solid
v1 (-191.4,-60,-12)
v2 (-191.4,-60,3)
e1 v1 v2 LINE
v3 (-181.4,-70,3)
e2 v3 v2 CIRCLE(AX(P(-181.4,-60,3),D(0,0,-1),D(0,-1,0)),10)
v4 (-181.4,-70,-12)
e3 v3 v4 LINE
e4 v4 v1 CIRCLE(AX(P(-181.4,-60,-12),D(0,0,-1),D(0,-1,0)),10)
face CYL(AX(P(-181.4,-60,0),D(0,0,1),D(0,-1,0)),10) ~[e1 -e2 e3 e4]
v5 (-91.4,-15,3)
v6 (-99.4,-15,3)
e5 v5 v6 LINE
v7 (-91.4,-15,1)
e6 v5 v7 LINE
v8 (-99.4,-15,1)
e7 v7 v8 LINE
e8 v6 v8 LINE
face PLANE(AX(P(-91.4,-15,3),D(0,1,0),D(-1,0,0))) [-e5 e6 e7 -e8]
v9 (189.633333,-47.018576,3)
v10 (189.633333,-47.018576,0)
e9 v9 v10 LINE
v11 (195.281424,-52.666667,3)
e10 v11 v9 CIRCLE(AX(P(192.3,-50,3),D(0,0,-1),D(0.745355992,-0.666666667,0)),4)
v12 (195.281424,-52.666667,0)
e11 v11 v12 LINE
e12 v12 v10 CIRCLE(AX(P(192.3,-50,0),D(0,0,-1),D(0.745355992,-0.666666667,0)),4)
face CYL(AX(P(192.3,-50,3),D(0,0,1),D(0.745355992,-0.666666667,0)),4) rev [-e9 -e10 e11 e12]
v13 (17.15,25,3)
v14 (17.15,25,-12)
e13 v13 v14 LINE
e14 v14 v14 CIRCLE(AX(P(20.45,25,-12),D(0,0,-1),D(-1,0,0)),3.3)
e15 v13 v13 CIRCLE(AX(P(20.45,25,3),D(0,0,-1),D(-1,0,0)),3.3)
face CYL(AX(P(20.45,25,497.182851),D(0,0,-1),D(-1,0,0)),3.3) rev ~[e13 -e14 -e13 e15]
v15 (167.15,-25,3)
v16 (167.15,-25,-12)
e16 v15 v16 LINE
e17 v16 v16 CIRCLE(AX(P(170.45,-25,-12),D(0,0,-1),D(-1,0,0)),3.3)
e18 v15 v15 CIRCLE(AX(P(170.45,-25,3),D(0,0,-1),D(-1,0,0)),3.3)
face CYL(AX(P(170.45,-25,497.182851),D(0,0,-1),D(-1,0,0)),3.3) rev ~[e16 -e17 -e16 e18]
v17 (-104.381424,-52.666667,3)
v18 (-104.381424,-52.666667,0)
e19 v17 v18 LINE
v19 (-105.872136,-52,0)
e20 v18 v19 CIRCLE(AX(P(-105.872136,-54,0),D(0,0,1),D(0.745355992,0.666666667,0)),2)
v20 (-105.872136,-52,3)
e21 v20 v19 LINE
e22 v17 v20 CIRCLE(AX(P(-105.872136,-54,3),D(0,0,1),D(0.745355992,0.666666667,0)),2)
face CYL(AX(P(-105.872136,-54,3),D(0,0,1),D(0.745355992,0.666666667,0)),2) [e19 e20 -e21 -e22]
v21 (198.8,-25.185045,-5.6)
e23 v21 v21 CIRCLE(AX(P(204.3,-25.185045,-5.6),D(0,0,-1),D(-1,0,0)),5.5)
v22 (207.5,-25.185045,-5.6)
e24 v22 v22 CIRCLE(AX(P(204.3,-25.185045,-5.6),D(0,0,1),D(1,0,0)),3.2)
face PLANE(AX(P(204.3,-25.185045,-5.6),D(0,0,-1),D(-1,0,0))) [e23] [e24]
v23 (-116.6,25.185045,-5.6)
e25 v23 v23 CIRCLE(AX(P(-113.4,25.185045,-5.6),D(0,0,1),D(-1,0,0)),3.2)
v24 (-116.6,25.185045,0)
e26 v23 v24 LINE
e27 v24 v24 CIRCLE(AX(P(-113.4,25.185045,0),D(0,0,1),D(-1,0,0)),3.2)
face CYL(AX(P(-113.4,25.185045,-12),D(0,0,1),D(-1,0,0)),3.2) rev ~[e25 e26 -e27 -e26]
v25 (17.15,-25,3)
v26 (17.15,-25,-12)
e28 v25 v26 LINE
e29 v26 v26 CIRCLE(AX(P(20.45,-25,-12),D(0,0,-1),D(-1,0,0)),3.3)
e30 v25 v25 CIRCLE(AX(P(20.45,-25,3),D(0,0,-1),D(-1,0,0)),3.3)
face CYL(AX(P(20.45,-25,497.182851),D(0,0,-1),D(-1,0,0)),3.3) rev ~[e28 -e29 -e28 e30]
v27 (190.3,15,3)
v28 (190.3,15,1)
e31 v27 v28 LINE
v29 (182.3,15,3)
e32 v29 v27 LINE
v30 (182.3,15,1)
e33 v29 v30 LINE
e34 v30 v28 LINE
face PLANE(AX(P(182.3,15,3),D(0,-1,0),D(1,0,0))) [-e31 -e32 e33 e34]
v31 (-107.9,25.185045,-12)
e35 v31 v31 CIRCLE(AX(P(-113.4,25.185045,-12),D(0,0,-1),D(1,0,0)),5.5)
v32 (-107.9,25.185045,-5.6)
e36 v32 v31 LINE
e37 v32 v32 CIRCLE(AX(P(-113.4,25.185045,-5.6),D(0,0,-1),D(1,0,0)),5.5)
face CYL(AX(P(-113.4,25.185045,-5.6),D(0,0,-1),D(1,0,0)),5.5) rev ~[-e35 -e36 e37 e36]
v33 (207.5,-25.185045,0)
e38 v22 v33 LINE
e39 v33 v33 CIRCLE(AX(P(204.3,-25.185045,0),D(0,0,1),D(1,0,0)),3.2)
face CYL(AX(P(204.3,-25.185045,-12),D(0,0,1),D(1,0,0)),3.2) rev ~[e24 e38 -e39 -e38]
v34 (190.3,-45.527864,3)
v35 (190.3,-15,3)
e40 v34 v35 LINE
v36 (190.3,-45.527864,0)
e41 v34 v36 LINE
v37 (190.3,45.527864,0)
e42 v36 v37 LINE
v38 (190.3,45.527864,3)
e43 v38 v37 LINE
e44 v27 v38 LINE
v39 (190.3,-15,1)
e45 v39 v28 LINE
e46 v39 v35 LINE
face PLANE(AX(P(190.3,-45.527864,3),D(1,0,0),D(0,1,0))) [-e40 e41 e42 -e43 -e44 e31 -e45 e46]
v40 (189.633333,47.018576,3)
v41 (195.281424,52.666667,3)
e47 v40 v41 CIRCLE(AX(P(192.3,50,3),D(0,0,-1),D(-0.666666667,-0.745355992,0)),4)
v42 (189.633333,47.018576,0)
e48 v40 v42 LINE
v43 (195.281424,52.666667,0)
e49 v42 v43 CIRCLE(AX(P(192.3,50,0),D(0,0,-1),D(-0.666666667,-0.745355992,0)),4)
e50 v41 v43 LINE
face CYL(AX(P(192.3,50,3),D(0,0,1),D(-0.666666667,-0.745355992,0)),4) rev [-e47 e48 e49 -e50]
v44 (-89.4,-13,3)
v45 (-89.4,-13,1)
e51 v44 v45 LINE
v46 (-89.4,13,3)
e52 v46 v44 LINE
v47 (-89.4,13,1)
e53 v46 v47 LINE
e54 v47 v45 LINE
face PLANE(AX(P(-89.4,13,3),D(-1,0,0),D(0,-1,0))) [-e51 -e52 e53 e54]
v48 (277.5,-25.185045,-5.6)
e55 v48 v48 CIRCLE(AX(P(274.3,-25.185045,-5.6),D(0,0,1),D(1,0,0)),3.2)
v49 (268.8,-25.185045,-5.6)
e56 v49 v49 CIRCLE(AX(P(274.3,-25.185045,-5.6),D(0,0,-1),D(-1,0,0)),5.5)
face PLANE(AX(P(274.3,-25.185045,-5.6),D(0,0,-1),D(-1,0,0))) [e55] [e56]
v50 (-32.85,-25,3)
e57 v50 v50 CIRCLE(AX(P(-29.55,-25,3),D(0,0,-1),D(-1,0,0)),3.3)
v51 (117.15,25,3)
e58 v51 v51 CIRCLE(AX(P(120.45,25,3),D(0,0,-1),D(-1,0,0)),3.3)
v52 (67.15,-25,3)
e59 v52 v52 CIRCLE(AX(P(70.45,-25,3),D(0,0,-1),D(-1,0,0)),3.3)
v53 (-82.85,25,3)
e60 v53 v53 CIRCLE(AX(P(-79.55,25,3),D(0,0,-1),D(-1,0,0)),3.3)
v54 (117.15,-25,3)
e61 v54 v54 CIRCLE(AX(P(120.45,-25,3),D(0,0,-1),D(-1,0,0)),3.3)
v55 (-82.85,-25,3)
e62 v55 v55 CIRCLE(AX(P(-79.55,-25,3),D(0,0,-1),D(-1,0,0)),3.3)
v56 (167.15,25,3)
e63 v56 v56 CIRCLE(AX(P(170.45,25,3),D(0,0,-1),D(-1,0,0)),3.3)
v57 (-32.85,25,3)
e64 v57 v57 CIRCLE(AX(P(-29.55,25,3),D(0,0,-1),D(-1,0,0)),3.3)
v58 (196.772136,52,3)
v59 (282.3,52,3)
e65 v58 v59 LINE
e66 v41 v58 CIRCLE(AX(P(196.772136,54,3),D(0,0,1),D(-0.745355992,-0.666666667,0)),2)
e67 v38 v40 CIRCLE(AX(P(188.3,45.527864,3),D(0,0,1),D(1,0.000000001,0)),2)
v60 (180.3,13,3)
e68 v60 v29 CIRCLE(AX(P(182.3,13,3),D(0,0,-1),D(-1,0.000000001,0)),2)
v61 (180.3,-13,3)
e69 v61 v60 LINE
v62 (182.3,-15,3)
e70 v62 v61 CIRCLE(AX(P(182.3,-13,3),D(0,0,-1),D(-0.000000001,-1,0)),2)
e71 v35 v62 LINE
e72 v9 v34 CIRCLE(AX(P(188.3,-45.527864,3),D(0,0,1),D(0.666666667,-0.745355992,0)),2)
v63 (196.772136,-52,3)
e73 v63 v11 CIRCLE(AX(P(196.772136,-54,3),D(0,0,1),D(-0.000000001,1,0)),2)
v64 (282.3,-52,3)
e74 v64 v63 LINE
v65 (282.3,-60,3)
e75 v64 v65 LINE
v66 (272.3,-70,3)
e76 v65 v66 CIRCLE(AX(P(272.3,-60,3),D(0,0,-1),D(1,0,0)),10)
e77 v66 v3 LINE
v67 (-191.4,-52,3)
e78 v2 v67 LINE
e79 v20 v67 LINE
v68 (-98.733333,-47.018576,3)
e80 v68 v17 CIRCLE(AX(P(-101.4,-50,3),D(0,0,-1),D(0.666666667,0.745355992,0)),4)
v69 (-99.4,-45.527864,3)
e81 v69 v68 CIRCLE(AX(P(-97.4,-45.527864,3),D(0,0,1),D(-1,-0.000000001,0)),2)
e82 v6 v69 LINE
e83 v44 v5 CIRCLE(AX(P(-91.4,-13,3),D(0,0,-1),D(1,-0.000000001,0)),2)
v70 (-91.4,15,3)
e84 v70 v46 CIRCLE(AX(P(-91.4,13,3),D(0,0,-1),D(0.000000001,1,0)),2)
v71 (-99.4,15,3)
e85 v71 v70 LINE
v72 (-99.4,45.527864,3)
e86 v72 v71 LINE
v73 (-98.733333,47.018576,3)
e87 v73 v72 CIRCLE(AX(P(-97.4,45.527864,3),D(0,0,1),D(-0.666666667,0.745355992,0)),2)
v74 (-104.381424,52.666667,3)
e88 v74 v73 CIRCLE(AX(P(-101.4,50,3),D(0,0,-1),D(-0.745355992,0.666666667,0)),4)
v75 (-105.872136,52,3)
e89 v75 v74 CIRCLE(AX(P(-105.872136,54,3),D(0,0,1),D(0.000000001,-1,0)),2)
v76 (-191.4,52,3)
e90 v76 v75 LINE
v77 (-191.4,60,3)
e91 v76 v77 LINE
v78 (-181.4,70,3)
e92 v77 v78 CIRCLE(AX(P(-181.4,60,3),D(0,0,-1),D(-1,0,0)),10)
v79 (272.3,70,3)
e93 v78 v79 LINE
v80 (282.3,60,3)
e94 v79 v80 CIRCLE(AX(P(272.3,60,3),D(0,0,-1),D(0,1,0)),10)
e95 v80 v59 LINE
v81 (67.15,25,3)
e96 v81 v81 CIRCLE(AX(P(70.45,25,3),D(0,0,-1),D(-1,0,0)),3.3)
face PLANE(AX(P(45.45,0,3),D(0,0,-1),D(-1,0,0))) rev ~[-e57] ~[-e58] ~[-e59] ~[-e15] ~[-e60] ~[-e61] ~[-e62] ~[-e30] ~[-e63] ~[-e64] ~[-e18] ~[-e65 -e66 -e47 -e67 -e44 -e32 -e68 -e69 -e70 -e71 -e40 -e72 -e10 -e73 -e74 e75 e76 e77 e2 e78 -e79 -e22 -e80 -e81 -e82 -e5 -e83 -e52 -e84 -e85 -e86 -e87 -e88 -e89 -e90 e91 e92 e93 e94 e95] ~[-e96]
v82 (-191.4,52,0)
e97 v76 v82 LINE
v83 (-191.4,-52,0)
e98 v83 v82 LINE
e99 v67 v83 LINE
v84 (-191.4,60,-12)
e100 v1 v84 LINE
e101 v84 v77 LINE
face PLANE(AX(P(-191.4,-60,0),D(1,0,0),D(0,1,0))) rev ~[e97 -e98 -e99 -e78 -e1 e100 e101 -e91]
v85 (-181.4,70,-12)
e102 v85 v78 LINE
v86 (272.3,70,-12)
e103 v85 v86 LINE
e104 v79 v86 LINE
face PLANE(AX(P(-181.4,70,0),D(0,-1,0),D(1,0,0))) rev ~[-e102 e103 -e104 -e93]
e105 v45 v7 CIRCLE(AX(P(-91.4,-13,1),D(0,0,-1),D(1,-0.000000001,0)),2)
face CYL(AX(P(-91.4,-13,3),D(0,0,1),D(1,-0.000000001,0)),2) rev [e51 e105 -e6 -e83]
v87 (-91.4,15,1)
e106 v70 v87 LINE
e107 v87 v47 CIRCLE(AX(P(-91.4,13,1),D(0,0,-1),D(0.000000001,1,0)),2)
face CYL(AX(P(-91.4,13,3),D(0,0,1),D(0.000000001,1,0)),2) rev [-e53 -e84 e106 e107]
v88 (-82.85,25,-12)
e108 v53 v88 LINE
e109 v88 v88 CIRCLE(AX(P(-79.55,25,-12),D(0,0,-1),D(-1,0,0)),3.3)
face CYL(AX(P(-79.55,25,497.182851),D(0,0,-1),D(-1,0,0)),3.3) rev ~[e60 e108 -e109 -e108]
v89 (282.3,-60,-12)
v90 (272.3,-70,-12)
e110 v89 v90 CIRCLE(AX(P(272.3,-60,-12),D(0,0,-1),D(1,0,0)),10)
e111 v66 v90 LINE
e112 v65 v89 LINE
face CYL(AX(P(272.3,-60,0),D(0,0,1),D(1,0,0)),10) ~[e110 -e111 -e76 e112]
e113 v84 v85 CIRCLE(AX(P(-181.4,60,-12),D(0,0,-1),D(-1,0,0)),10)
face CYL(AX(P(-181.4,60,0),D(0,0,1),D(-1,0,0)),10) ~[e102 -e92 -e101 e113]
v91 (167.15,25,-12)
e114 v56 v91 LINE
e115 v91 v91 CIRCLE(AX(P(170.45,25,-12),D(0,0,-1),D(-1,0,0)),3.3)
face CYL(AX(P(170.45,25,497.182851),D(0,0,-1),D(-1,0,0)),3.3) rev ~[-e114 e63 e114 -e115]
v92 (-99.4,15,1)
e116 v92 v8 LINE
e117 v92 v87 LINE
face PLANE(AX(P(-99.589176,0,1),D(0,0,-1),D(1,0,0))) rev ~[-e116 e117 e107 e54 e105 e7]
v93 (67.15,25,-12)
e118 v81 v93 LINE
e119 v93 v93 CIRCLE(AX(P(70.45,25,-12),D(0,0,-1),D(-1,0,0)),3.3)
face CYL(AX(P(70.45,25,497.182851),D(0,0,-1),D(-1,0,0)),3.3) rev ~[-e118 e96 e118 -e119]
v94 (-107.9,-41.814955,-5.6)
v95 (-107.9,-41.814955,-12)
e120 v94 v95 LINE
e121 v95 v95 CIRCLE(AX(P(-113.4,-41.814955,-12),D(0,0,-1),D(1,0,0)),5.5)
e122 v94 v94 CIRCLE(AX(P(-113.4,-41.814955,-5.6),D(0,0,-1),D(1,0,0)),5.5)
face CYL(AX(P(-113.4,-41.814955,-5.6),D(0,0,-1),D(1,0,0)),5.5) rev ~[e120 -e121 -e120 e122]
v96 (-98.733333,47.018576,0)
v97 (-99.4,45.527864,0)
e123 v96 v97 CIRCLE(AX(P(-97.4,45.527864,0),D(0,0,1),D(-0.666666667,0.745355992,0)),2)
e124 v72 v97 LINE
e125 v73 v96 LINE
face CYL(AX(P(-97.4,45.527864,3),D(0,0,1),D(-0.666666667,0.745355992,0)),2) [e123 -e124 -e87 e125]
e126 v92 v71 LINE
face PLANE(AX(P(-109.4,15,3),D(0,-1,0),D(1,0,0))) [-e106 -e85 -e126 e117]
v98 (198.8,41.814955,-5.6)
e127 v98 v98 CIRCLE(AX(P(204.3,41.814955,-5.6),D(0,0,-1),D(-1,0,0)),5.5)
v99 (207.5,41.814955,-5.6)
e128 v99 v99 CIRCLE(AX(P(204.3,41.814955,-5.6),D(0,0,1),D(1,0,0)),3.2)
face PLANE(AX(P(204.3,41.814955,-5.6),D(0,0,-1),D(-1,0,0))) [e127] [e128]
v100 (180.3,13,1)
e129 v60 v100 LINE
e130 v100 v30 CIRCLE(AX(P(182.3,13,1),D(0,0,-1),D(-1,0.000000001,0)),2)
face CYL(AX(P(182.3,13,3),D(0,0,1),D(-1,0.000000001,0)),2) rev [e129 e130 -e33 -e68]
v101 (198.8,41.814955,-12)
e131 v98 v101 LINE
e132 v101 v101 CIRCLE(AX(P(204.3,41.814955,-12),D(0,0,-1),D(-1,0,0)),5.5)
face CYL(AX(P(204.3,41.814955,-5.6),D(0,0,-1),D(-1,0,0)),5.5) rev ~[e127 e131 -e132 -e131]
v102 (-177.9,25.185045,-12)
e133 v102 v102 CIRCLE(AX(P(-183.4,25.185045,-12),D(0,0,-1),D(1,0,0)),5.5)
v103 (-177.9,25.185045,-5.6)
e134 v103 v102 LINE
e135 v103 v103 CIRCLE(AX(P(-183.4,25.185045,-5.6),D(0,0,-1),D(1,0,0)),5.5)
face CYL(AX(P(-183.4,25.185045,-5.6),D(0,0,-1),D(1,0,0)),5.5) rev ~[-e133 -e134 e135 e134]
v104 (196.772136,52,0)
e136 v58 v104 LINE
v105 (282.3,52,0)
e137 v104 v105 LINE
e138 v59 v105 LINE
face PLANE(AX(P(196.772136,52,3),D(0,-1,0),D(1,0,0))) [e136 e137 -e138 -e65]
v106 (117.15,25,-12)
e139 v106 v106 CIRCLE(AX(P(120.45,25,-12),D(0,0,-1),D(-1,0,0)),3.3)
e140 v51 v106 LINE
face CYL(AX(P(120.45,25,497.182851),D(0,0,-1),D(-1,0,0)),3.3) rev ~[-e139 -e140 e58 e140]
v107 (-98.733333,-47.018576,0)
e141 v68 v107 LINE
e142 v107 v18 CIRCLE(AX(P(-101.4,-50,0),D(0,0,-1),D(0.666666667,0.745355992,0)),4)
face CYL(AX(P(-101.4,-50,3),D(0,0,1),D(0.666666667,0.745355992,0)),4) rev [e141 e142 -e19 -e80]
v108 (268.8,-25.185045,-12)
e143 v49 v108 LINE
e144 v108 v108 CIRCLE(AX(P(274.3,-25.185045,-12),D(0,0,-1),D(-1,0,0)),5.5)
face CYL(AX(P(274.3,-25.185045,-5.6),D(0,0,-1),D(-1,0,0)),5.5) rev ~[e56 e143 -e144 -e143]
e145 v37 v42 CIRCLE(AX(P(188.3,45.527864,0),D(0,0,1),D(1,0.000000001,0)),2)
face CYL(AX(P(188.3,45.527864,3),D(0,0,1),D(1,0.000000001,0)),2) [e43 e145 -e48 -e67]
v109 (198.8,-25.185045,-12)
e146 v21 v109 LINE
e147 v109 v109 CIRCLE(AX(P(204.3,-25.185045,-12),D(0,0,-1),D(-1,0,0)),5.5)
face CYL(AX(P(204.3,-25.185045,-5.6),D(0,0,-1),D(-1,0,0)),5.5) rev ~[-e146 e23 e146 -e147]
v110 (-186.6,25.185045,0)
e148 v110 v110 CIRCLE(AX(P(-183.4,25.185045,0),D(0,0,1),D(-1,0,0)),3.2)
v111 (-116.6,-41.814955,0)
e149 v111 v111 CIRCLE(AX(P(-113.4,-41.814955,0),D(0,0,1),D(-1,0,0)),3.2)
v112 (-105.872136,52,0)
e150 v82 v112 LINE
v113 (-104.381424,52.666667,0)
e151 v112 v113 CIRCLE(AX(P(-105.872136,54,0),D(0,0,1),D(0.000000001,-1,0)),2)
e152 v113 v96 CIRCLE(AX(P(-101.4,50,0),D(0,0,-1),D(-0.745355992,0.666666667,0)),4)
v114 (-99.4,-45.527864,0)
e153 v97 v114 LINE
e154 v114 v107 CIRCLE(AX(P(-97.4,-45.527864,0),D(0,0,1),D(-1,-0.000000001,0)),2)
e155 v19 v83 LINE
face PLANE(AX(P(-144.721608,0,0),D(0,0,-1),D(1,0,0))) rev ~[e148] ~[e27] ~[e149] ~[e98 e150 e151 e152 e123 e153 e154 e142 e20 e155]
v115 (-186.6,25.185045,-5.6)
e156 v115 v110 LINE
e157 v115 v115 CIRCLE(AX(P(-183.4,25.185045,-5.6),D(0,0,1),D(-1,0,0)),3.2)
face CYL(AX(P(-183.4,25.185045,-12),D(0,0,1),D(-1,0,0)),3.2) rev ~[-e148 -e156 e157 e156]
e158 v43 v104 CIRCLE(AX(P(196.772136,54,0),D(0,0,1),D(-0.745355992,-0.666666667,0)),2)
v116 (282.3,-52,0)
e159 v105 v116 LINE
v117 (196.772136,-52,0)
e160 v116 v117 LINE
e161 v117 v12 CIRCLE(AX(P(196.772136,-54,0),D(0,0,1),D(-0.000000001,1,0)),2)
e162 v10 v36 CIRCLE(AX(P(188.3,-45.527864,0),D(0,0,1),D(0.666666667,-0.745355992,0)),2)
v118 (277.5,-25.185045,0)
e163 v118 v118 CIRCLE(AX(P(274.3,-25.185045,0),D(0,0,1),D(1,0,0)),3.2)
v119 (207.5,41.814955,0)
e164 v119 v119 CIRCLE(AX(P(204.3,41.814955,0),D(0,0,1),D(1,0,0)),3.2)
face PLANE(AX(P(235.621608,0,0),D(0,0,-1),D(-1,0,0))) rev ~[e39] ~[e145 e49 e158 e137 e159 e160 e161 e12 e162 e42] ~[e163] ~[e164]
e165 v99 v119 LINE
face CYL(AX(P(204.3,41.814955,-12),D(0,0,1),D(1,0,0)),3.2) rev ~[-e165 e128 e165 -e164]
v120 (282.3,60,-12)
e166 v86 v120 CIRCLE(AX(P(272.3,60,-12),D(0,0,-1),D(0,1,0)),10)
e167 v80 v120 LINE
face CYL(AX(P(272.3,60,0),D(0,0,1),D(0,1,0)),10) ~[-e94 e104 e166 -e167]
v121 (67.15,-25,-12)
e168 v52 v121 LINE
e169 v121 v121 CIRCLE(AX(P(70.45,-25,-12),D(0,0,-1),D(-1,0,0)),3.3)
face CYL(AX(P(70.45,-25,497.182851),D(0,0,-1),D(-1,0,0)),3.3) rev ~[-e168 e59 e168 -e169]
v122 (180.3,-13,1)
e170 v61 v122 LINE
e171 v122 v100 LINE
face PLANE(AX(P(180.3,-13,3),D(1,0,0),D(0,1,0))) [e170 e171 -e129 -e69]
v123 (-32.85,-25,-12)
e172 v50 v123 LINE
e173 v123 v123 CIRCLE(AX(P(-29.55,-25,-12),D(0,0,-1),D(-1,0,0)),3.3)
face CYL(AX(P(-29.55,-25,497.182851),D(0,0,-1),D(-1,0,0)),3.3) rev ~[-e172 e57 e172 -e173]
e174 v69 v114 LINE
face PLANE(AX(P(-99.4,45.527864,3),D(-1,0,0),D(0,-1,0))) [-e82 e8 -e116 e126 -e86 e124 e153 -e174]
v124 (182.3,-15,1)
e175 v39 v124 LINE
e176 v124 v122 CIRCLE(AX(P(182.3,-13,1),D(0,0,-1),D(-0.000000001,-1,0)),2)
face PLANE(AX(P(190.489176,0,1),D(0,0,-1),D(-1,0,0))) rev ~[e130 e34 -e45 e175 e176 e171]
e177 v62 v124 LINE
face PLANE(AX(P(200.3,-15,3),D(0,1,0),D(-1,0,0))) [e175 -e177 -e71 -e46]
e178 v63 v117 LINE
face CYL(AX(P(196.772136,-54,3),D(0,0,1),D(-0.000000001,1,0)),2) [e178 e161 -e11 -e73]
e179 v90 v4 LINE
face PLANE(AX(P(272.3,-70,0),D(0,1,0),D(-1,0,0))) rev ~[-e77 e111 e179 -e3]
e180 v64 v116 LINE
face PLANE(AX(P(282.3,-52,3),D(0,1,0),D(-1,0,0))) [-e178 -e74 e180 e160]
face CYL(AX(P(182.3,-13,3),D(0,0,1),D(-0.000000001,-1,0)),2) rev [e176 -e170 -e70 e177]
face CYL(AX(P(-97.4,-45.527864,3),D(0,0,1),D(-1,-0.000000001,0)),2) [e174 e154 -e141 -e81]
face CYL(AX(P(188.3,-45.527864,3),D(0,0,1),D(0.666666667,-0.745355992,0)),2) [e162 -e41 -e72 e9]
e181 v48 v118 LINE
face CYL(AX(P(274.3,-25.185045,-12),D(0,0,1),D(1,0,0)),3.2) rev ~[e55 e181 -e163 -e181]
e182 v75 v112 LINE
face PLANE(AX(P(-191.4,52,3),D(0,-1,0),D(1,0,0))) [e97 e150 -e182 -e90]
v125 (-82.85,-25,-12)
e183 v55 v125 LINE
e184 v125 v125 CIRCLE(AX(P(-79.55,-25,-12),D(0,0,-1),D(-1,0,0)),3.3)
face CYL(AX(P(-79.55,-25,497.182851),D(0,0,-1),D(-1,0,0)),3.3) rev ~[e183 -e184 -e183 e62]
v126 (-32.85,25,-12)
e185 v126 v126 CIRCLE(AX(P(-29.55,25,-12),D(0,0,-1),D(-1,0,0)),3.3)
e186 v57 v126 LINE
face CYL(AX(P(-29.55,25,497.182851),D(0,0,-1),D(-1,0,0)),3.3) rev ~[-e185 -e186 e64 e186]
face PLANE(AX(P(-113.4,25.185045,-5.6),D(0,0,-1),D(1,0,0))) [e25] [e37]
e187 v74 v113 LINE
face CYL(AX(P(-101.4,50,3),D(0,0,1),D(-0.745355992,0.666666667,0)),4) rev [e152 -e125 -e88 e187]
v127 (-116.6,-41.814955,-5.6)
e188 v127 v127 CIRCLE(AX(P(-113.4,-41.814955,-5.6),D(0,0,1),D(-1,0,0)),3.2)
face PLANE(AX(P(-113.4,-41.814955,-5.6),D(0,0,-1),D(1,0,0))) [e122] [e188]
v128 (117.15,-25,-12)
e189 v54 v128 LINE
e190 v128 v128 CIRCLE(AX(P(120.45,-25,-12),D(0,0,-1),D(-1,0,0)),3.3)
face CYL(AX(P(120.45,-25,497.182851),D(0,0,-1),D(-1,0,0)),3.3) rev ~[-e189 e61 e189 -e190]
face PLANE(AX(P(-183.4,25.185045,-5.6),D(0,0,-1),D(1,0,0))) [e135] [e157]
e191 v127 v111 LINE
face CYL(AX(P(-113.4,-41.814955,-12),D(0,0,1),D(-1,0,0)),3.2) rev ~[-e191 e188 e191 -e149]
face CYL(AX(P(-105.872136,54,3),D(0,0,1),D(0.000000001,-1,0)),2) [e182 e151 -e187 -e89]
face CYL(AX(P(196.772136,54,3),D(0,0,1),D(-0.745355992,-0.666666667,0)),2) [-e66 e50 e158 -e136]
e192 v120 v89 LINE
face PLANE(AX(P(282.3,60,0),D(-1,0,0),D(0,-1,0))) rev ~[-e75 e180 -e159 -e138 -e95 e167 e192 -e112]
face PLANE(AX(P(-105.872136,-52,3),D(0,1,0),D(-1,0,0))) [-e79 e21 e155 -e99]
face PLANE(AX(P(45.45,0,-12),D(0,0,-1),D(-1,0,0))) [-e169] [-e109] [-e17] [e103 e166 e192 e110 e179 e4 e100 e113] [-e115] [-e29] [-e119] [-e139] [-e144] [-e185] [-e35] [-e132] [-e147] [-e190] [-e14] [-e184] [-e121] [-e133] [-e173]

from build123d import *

# Parameters (mm, degrees)
ESTRUSIONE_ESTRUSIONE1_DEPTH                         = 3
ESTRUSIONE_ESTRUSIONE1_DEPTH_BACK                    = 12
TAGLIO_ESTRUSIONE1_DEPTH                             = 3
FORO_LAMATO_PER_VITE_M6_A_TESTA_CILINDRI_D           = 6.4
FORO_LAMATO_PER_VITE_M6_A_TESTA_CILINDRI_CBORE_D     = 11
FORO_LAMATO_PER_VITE_M6_A_TESTA_CILINDRI_CBORE_DEPTH = 6.4
FORO_PER_VITE_M6_1_D                                 = 6.6
TAGLIO_ESTRUSIONE2_DEPTH                             = 2
RIPETIZIONECIRCOLARE1_COUNT                          = 2


with BuildPart() as part:
    # Schizzo1 → Estrusione-Estrusione1 (new body, two sides)
    with BuildSketch(Plane.XY) as estrusione_estrusione1_sk:
        with BuildLine():
            Line((-181.4, 70), (272.3, 70))
            ThreePointArc((272.3, 70), (279.371067812, 67.071067812), (282.3, 60))
            Line((282.3, 60), (282.3, -60))
            ThreePointArc((282.3, -60), (279.371067812, -67.071067812), (272.3, -70))
            Line((272.3, -70), (-181.4, -70))
            ThreePointArc((-181.4, -70), (-188.471067812, -67.071067812), (-191.4, -60))
            Line((-191.4, -60), (-191.4, 60))
            ThreePointArc((-191.4, 60), (-188.471067812, 67.071067812), (-181.4, 70))
        make_face()
    extrude(amount=ESTRUSIONE_ESTRUSIONE1_DEPTH)
    extrude(estrusione_estrusione1_sk.sketch, amount=-ESTRUSIONE_ESTRUSIONE1_DEPTH_BACK)

    # Schizzo2 → Taglio-Estrusione1 (cut)
    with BuildSketch(Plane.XY.offset(3)):
        with BuildLine():
            Line((196.772135955, 52), (282.3, 52))
            Line((282.3, 52), (282.3, -52))
            Line((282.3, -52), (196.772135955, -52))
            ThreePointArc((196.772135955, -52), (195.955639374, -52.174258142), (195.28142397, -52.666666667))
            ThreePointArc((195.28142397, -52.666666667), (189.471572875, -52.828427125), (189.633333333, -47.01857603))
            ThreePointArc((189.633333333, -47.01857603), (190.125741858, -46.344360626), (190.3, -45.527864045))
            Line((190.3, -45.527864045), (190.3, 45.527864045))
            ThreePointArc((190.3, 45.527864045), (190.125741858, 46.344360626), (189.633333333, 47.01857603))
            ThreePointArc((189.633333333, 47.01857603), (189.471572875, 52.828427125), (195.28142397, 52.666666667))
            ThreePointArc((195.28142397, 52.666666667), (195.955639374, 52.174258142), (196.772135955, 52))
        make_face()
    taglio_estrusione1 = extrude(amount=-TAGLIO_ESTRUSIONE1_DEPTH, mode=Mode.SUBTRACT)

    # Foro lamato per Vite M6 a testa cilindri (through all)
    with Locations(Plane(origin=(0, 0, -12), x_dir=(-1, 0, 0), z_dir=(0, 0, -1))):
        with Locations((-204.3, 41.814954576), (-204.3, -25.185045424), (-274.3, -25.185045424)):
            foro_lamato_per_vite_m6_a_testa_cilindri = CounterBoreHole(FORO_LAMATO_PER_VITE_M6_A_TESTA_CILINDRI_D / 2, FORO_LAMATO_PER_VITE_M6_A_TESTA_CILINDRI_CBORE_D / 2, FORO_LAMATO_PER_VITE_M6_A_TESTA_CILINDRI_CBORE_DEPTH)

    # Foro per Vite M6-1 (through all)
    with Locations(Plane.XY.offset(3)):
        with Locations((170.45, -25), (-79.55, 25), (170.45, 25), (-79.55, -25), (120.45, -25), (120.45, 25), (70.45, 25), (70.45, -25), (20.45, 25), (20.45, -25), (-29.55, -25), (-29.55, 25)):
            Hole(FORO_PER_VITE_M6_1_D / 2)

    # Schizzo7 → Taglio-Estrusione2 (cut)
    with BuildSketch(Plane.XY.offset(3)):
        with BuildLine():
            Line((182.3, 15), (200.3, 15))
            Line((200.3, 15), (200.3, -15))
            Line((200.3, -15), (182.3, -15))
            ThreePointArc((182.3, -15), (180.885786438, -14.414213562), (180.3, -13))
            Line((180.3, -13), (180.3, 13))
            ThreePointArc((180.3, 13), (180.885786438, 14.414213562), (182.3, 15))
        make_face()
    taglio_estrusione2 = extrude(amount=-TAGLIO_ESTRUSIONE2_DEPTH, mode=Mode.SUBTRACT)

    # RipetizioneCircolare1: Taglio-Estrusione1, Foro lamato per Vite M6 a testa cilindri, Taglio-Estrusione2 ×2 about axis
    ripetizionecircolare1_axis = Axis((45.45, 0, 0), (0, 0, 1))
    add([taglio_estrusione1.rotate(ripetizionecircolare1_axis, i * 360 / RIPETIZIONECIRCOLARE1_COUNT) for i in range(1, RIPETIZIONECIRCOLARE1_COUNT)], mode=Mode.SUBTRACT)
    add([foro_lamato_per_vite_m6_a_testa_cilindri.rotate(ripetizionecircolare1_axis, i * 360 / RIPETIZIONECIRCOLARE1_COUNT) for i in range(1, RIPETIZIONECIRCOLARE1_COUNT)], mode=Mode.SUBTRACT)
    add([taglio_estrusione2.rotate(ripetizionecircolare1_axis, i * 360 / RIPETIZIONECIRCOLARE1_COUNT) for i in range(1, RIPETIZIONECIRCOLARE1_COUNT)], mode=Mode.SUBTRACT)


solid = part.part
